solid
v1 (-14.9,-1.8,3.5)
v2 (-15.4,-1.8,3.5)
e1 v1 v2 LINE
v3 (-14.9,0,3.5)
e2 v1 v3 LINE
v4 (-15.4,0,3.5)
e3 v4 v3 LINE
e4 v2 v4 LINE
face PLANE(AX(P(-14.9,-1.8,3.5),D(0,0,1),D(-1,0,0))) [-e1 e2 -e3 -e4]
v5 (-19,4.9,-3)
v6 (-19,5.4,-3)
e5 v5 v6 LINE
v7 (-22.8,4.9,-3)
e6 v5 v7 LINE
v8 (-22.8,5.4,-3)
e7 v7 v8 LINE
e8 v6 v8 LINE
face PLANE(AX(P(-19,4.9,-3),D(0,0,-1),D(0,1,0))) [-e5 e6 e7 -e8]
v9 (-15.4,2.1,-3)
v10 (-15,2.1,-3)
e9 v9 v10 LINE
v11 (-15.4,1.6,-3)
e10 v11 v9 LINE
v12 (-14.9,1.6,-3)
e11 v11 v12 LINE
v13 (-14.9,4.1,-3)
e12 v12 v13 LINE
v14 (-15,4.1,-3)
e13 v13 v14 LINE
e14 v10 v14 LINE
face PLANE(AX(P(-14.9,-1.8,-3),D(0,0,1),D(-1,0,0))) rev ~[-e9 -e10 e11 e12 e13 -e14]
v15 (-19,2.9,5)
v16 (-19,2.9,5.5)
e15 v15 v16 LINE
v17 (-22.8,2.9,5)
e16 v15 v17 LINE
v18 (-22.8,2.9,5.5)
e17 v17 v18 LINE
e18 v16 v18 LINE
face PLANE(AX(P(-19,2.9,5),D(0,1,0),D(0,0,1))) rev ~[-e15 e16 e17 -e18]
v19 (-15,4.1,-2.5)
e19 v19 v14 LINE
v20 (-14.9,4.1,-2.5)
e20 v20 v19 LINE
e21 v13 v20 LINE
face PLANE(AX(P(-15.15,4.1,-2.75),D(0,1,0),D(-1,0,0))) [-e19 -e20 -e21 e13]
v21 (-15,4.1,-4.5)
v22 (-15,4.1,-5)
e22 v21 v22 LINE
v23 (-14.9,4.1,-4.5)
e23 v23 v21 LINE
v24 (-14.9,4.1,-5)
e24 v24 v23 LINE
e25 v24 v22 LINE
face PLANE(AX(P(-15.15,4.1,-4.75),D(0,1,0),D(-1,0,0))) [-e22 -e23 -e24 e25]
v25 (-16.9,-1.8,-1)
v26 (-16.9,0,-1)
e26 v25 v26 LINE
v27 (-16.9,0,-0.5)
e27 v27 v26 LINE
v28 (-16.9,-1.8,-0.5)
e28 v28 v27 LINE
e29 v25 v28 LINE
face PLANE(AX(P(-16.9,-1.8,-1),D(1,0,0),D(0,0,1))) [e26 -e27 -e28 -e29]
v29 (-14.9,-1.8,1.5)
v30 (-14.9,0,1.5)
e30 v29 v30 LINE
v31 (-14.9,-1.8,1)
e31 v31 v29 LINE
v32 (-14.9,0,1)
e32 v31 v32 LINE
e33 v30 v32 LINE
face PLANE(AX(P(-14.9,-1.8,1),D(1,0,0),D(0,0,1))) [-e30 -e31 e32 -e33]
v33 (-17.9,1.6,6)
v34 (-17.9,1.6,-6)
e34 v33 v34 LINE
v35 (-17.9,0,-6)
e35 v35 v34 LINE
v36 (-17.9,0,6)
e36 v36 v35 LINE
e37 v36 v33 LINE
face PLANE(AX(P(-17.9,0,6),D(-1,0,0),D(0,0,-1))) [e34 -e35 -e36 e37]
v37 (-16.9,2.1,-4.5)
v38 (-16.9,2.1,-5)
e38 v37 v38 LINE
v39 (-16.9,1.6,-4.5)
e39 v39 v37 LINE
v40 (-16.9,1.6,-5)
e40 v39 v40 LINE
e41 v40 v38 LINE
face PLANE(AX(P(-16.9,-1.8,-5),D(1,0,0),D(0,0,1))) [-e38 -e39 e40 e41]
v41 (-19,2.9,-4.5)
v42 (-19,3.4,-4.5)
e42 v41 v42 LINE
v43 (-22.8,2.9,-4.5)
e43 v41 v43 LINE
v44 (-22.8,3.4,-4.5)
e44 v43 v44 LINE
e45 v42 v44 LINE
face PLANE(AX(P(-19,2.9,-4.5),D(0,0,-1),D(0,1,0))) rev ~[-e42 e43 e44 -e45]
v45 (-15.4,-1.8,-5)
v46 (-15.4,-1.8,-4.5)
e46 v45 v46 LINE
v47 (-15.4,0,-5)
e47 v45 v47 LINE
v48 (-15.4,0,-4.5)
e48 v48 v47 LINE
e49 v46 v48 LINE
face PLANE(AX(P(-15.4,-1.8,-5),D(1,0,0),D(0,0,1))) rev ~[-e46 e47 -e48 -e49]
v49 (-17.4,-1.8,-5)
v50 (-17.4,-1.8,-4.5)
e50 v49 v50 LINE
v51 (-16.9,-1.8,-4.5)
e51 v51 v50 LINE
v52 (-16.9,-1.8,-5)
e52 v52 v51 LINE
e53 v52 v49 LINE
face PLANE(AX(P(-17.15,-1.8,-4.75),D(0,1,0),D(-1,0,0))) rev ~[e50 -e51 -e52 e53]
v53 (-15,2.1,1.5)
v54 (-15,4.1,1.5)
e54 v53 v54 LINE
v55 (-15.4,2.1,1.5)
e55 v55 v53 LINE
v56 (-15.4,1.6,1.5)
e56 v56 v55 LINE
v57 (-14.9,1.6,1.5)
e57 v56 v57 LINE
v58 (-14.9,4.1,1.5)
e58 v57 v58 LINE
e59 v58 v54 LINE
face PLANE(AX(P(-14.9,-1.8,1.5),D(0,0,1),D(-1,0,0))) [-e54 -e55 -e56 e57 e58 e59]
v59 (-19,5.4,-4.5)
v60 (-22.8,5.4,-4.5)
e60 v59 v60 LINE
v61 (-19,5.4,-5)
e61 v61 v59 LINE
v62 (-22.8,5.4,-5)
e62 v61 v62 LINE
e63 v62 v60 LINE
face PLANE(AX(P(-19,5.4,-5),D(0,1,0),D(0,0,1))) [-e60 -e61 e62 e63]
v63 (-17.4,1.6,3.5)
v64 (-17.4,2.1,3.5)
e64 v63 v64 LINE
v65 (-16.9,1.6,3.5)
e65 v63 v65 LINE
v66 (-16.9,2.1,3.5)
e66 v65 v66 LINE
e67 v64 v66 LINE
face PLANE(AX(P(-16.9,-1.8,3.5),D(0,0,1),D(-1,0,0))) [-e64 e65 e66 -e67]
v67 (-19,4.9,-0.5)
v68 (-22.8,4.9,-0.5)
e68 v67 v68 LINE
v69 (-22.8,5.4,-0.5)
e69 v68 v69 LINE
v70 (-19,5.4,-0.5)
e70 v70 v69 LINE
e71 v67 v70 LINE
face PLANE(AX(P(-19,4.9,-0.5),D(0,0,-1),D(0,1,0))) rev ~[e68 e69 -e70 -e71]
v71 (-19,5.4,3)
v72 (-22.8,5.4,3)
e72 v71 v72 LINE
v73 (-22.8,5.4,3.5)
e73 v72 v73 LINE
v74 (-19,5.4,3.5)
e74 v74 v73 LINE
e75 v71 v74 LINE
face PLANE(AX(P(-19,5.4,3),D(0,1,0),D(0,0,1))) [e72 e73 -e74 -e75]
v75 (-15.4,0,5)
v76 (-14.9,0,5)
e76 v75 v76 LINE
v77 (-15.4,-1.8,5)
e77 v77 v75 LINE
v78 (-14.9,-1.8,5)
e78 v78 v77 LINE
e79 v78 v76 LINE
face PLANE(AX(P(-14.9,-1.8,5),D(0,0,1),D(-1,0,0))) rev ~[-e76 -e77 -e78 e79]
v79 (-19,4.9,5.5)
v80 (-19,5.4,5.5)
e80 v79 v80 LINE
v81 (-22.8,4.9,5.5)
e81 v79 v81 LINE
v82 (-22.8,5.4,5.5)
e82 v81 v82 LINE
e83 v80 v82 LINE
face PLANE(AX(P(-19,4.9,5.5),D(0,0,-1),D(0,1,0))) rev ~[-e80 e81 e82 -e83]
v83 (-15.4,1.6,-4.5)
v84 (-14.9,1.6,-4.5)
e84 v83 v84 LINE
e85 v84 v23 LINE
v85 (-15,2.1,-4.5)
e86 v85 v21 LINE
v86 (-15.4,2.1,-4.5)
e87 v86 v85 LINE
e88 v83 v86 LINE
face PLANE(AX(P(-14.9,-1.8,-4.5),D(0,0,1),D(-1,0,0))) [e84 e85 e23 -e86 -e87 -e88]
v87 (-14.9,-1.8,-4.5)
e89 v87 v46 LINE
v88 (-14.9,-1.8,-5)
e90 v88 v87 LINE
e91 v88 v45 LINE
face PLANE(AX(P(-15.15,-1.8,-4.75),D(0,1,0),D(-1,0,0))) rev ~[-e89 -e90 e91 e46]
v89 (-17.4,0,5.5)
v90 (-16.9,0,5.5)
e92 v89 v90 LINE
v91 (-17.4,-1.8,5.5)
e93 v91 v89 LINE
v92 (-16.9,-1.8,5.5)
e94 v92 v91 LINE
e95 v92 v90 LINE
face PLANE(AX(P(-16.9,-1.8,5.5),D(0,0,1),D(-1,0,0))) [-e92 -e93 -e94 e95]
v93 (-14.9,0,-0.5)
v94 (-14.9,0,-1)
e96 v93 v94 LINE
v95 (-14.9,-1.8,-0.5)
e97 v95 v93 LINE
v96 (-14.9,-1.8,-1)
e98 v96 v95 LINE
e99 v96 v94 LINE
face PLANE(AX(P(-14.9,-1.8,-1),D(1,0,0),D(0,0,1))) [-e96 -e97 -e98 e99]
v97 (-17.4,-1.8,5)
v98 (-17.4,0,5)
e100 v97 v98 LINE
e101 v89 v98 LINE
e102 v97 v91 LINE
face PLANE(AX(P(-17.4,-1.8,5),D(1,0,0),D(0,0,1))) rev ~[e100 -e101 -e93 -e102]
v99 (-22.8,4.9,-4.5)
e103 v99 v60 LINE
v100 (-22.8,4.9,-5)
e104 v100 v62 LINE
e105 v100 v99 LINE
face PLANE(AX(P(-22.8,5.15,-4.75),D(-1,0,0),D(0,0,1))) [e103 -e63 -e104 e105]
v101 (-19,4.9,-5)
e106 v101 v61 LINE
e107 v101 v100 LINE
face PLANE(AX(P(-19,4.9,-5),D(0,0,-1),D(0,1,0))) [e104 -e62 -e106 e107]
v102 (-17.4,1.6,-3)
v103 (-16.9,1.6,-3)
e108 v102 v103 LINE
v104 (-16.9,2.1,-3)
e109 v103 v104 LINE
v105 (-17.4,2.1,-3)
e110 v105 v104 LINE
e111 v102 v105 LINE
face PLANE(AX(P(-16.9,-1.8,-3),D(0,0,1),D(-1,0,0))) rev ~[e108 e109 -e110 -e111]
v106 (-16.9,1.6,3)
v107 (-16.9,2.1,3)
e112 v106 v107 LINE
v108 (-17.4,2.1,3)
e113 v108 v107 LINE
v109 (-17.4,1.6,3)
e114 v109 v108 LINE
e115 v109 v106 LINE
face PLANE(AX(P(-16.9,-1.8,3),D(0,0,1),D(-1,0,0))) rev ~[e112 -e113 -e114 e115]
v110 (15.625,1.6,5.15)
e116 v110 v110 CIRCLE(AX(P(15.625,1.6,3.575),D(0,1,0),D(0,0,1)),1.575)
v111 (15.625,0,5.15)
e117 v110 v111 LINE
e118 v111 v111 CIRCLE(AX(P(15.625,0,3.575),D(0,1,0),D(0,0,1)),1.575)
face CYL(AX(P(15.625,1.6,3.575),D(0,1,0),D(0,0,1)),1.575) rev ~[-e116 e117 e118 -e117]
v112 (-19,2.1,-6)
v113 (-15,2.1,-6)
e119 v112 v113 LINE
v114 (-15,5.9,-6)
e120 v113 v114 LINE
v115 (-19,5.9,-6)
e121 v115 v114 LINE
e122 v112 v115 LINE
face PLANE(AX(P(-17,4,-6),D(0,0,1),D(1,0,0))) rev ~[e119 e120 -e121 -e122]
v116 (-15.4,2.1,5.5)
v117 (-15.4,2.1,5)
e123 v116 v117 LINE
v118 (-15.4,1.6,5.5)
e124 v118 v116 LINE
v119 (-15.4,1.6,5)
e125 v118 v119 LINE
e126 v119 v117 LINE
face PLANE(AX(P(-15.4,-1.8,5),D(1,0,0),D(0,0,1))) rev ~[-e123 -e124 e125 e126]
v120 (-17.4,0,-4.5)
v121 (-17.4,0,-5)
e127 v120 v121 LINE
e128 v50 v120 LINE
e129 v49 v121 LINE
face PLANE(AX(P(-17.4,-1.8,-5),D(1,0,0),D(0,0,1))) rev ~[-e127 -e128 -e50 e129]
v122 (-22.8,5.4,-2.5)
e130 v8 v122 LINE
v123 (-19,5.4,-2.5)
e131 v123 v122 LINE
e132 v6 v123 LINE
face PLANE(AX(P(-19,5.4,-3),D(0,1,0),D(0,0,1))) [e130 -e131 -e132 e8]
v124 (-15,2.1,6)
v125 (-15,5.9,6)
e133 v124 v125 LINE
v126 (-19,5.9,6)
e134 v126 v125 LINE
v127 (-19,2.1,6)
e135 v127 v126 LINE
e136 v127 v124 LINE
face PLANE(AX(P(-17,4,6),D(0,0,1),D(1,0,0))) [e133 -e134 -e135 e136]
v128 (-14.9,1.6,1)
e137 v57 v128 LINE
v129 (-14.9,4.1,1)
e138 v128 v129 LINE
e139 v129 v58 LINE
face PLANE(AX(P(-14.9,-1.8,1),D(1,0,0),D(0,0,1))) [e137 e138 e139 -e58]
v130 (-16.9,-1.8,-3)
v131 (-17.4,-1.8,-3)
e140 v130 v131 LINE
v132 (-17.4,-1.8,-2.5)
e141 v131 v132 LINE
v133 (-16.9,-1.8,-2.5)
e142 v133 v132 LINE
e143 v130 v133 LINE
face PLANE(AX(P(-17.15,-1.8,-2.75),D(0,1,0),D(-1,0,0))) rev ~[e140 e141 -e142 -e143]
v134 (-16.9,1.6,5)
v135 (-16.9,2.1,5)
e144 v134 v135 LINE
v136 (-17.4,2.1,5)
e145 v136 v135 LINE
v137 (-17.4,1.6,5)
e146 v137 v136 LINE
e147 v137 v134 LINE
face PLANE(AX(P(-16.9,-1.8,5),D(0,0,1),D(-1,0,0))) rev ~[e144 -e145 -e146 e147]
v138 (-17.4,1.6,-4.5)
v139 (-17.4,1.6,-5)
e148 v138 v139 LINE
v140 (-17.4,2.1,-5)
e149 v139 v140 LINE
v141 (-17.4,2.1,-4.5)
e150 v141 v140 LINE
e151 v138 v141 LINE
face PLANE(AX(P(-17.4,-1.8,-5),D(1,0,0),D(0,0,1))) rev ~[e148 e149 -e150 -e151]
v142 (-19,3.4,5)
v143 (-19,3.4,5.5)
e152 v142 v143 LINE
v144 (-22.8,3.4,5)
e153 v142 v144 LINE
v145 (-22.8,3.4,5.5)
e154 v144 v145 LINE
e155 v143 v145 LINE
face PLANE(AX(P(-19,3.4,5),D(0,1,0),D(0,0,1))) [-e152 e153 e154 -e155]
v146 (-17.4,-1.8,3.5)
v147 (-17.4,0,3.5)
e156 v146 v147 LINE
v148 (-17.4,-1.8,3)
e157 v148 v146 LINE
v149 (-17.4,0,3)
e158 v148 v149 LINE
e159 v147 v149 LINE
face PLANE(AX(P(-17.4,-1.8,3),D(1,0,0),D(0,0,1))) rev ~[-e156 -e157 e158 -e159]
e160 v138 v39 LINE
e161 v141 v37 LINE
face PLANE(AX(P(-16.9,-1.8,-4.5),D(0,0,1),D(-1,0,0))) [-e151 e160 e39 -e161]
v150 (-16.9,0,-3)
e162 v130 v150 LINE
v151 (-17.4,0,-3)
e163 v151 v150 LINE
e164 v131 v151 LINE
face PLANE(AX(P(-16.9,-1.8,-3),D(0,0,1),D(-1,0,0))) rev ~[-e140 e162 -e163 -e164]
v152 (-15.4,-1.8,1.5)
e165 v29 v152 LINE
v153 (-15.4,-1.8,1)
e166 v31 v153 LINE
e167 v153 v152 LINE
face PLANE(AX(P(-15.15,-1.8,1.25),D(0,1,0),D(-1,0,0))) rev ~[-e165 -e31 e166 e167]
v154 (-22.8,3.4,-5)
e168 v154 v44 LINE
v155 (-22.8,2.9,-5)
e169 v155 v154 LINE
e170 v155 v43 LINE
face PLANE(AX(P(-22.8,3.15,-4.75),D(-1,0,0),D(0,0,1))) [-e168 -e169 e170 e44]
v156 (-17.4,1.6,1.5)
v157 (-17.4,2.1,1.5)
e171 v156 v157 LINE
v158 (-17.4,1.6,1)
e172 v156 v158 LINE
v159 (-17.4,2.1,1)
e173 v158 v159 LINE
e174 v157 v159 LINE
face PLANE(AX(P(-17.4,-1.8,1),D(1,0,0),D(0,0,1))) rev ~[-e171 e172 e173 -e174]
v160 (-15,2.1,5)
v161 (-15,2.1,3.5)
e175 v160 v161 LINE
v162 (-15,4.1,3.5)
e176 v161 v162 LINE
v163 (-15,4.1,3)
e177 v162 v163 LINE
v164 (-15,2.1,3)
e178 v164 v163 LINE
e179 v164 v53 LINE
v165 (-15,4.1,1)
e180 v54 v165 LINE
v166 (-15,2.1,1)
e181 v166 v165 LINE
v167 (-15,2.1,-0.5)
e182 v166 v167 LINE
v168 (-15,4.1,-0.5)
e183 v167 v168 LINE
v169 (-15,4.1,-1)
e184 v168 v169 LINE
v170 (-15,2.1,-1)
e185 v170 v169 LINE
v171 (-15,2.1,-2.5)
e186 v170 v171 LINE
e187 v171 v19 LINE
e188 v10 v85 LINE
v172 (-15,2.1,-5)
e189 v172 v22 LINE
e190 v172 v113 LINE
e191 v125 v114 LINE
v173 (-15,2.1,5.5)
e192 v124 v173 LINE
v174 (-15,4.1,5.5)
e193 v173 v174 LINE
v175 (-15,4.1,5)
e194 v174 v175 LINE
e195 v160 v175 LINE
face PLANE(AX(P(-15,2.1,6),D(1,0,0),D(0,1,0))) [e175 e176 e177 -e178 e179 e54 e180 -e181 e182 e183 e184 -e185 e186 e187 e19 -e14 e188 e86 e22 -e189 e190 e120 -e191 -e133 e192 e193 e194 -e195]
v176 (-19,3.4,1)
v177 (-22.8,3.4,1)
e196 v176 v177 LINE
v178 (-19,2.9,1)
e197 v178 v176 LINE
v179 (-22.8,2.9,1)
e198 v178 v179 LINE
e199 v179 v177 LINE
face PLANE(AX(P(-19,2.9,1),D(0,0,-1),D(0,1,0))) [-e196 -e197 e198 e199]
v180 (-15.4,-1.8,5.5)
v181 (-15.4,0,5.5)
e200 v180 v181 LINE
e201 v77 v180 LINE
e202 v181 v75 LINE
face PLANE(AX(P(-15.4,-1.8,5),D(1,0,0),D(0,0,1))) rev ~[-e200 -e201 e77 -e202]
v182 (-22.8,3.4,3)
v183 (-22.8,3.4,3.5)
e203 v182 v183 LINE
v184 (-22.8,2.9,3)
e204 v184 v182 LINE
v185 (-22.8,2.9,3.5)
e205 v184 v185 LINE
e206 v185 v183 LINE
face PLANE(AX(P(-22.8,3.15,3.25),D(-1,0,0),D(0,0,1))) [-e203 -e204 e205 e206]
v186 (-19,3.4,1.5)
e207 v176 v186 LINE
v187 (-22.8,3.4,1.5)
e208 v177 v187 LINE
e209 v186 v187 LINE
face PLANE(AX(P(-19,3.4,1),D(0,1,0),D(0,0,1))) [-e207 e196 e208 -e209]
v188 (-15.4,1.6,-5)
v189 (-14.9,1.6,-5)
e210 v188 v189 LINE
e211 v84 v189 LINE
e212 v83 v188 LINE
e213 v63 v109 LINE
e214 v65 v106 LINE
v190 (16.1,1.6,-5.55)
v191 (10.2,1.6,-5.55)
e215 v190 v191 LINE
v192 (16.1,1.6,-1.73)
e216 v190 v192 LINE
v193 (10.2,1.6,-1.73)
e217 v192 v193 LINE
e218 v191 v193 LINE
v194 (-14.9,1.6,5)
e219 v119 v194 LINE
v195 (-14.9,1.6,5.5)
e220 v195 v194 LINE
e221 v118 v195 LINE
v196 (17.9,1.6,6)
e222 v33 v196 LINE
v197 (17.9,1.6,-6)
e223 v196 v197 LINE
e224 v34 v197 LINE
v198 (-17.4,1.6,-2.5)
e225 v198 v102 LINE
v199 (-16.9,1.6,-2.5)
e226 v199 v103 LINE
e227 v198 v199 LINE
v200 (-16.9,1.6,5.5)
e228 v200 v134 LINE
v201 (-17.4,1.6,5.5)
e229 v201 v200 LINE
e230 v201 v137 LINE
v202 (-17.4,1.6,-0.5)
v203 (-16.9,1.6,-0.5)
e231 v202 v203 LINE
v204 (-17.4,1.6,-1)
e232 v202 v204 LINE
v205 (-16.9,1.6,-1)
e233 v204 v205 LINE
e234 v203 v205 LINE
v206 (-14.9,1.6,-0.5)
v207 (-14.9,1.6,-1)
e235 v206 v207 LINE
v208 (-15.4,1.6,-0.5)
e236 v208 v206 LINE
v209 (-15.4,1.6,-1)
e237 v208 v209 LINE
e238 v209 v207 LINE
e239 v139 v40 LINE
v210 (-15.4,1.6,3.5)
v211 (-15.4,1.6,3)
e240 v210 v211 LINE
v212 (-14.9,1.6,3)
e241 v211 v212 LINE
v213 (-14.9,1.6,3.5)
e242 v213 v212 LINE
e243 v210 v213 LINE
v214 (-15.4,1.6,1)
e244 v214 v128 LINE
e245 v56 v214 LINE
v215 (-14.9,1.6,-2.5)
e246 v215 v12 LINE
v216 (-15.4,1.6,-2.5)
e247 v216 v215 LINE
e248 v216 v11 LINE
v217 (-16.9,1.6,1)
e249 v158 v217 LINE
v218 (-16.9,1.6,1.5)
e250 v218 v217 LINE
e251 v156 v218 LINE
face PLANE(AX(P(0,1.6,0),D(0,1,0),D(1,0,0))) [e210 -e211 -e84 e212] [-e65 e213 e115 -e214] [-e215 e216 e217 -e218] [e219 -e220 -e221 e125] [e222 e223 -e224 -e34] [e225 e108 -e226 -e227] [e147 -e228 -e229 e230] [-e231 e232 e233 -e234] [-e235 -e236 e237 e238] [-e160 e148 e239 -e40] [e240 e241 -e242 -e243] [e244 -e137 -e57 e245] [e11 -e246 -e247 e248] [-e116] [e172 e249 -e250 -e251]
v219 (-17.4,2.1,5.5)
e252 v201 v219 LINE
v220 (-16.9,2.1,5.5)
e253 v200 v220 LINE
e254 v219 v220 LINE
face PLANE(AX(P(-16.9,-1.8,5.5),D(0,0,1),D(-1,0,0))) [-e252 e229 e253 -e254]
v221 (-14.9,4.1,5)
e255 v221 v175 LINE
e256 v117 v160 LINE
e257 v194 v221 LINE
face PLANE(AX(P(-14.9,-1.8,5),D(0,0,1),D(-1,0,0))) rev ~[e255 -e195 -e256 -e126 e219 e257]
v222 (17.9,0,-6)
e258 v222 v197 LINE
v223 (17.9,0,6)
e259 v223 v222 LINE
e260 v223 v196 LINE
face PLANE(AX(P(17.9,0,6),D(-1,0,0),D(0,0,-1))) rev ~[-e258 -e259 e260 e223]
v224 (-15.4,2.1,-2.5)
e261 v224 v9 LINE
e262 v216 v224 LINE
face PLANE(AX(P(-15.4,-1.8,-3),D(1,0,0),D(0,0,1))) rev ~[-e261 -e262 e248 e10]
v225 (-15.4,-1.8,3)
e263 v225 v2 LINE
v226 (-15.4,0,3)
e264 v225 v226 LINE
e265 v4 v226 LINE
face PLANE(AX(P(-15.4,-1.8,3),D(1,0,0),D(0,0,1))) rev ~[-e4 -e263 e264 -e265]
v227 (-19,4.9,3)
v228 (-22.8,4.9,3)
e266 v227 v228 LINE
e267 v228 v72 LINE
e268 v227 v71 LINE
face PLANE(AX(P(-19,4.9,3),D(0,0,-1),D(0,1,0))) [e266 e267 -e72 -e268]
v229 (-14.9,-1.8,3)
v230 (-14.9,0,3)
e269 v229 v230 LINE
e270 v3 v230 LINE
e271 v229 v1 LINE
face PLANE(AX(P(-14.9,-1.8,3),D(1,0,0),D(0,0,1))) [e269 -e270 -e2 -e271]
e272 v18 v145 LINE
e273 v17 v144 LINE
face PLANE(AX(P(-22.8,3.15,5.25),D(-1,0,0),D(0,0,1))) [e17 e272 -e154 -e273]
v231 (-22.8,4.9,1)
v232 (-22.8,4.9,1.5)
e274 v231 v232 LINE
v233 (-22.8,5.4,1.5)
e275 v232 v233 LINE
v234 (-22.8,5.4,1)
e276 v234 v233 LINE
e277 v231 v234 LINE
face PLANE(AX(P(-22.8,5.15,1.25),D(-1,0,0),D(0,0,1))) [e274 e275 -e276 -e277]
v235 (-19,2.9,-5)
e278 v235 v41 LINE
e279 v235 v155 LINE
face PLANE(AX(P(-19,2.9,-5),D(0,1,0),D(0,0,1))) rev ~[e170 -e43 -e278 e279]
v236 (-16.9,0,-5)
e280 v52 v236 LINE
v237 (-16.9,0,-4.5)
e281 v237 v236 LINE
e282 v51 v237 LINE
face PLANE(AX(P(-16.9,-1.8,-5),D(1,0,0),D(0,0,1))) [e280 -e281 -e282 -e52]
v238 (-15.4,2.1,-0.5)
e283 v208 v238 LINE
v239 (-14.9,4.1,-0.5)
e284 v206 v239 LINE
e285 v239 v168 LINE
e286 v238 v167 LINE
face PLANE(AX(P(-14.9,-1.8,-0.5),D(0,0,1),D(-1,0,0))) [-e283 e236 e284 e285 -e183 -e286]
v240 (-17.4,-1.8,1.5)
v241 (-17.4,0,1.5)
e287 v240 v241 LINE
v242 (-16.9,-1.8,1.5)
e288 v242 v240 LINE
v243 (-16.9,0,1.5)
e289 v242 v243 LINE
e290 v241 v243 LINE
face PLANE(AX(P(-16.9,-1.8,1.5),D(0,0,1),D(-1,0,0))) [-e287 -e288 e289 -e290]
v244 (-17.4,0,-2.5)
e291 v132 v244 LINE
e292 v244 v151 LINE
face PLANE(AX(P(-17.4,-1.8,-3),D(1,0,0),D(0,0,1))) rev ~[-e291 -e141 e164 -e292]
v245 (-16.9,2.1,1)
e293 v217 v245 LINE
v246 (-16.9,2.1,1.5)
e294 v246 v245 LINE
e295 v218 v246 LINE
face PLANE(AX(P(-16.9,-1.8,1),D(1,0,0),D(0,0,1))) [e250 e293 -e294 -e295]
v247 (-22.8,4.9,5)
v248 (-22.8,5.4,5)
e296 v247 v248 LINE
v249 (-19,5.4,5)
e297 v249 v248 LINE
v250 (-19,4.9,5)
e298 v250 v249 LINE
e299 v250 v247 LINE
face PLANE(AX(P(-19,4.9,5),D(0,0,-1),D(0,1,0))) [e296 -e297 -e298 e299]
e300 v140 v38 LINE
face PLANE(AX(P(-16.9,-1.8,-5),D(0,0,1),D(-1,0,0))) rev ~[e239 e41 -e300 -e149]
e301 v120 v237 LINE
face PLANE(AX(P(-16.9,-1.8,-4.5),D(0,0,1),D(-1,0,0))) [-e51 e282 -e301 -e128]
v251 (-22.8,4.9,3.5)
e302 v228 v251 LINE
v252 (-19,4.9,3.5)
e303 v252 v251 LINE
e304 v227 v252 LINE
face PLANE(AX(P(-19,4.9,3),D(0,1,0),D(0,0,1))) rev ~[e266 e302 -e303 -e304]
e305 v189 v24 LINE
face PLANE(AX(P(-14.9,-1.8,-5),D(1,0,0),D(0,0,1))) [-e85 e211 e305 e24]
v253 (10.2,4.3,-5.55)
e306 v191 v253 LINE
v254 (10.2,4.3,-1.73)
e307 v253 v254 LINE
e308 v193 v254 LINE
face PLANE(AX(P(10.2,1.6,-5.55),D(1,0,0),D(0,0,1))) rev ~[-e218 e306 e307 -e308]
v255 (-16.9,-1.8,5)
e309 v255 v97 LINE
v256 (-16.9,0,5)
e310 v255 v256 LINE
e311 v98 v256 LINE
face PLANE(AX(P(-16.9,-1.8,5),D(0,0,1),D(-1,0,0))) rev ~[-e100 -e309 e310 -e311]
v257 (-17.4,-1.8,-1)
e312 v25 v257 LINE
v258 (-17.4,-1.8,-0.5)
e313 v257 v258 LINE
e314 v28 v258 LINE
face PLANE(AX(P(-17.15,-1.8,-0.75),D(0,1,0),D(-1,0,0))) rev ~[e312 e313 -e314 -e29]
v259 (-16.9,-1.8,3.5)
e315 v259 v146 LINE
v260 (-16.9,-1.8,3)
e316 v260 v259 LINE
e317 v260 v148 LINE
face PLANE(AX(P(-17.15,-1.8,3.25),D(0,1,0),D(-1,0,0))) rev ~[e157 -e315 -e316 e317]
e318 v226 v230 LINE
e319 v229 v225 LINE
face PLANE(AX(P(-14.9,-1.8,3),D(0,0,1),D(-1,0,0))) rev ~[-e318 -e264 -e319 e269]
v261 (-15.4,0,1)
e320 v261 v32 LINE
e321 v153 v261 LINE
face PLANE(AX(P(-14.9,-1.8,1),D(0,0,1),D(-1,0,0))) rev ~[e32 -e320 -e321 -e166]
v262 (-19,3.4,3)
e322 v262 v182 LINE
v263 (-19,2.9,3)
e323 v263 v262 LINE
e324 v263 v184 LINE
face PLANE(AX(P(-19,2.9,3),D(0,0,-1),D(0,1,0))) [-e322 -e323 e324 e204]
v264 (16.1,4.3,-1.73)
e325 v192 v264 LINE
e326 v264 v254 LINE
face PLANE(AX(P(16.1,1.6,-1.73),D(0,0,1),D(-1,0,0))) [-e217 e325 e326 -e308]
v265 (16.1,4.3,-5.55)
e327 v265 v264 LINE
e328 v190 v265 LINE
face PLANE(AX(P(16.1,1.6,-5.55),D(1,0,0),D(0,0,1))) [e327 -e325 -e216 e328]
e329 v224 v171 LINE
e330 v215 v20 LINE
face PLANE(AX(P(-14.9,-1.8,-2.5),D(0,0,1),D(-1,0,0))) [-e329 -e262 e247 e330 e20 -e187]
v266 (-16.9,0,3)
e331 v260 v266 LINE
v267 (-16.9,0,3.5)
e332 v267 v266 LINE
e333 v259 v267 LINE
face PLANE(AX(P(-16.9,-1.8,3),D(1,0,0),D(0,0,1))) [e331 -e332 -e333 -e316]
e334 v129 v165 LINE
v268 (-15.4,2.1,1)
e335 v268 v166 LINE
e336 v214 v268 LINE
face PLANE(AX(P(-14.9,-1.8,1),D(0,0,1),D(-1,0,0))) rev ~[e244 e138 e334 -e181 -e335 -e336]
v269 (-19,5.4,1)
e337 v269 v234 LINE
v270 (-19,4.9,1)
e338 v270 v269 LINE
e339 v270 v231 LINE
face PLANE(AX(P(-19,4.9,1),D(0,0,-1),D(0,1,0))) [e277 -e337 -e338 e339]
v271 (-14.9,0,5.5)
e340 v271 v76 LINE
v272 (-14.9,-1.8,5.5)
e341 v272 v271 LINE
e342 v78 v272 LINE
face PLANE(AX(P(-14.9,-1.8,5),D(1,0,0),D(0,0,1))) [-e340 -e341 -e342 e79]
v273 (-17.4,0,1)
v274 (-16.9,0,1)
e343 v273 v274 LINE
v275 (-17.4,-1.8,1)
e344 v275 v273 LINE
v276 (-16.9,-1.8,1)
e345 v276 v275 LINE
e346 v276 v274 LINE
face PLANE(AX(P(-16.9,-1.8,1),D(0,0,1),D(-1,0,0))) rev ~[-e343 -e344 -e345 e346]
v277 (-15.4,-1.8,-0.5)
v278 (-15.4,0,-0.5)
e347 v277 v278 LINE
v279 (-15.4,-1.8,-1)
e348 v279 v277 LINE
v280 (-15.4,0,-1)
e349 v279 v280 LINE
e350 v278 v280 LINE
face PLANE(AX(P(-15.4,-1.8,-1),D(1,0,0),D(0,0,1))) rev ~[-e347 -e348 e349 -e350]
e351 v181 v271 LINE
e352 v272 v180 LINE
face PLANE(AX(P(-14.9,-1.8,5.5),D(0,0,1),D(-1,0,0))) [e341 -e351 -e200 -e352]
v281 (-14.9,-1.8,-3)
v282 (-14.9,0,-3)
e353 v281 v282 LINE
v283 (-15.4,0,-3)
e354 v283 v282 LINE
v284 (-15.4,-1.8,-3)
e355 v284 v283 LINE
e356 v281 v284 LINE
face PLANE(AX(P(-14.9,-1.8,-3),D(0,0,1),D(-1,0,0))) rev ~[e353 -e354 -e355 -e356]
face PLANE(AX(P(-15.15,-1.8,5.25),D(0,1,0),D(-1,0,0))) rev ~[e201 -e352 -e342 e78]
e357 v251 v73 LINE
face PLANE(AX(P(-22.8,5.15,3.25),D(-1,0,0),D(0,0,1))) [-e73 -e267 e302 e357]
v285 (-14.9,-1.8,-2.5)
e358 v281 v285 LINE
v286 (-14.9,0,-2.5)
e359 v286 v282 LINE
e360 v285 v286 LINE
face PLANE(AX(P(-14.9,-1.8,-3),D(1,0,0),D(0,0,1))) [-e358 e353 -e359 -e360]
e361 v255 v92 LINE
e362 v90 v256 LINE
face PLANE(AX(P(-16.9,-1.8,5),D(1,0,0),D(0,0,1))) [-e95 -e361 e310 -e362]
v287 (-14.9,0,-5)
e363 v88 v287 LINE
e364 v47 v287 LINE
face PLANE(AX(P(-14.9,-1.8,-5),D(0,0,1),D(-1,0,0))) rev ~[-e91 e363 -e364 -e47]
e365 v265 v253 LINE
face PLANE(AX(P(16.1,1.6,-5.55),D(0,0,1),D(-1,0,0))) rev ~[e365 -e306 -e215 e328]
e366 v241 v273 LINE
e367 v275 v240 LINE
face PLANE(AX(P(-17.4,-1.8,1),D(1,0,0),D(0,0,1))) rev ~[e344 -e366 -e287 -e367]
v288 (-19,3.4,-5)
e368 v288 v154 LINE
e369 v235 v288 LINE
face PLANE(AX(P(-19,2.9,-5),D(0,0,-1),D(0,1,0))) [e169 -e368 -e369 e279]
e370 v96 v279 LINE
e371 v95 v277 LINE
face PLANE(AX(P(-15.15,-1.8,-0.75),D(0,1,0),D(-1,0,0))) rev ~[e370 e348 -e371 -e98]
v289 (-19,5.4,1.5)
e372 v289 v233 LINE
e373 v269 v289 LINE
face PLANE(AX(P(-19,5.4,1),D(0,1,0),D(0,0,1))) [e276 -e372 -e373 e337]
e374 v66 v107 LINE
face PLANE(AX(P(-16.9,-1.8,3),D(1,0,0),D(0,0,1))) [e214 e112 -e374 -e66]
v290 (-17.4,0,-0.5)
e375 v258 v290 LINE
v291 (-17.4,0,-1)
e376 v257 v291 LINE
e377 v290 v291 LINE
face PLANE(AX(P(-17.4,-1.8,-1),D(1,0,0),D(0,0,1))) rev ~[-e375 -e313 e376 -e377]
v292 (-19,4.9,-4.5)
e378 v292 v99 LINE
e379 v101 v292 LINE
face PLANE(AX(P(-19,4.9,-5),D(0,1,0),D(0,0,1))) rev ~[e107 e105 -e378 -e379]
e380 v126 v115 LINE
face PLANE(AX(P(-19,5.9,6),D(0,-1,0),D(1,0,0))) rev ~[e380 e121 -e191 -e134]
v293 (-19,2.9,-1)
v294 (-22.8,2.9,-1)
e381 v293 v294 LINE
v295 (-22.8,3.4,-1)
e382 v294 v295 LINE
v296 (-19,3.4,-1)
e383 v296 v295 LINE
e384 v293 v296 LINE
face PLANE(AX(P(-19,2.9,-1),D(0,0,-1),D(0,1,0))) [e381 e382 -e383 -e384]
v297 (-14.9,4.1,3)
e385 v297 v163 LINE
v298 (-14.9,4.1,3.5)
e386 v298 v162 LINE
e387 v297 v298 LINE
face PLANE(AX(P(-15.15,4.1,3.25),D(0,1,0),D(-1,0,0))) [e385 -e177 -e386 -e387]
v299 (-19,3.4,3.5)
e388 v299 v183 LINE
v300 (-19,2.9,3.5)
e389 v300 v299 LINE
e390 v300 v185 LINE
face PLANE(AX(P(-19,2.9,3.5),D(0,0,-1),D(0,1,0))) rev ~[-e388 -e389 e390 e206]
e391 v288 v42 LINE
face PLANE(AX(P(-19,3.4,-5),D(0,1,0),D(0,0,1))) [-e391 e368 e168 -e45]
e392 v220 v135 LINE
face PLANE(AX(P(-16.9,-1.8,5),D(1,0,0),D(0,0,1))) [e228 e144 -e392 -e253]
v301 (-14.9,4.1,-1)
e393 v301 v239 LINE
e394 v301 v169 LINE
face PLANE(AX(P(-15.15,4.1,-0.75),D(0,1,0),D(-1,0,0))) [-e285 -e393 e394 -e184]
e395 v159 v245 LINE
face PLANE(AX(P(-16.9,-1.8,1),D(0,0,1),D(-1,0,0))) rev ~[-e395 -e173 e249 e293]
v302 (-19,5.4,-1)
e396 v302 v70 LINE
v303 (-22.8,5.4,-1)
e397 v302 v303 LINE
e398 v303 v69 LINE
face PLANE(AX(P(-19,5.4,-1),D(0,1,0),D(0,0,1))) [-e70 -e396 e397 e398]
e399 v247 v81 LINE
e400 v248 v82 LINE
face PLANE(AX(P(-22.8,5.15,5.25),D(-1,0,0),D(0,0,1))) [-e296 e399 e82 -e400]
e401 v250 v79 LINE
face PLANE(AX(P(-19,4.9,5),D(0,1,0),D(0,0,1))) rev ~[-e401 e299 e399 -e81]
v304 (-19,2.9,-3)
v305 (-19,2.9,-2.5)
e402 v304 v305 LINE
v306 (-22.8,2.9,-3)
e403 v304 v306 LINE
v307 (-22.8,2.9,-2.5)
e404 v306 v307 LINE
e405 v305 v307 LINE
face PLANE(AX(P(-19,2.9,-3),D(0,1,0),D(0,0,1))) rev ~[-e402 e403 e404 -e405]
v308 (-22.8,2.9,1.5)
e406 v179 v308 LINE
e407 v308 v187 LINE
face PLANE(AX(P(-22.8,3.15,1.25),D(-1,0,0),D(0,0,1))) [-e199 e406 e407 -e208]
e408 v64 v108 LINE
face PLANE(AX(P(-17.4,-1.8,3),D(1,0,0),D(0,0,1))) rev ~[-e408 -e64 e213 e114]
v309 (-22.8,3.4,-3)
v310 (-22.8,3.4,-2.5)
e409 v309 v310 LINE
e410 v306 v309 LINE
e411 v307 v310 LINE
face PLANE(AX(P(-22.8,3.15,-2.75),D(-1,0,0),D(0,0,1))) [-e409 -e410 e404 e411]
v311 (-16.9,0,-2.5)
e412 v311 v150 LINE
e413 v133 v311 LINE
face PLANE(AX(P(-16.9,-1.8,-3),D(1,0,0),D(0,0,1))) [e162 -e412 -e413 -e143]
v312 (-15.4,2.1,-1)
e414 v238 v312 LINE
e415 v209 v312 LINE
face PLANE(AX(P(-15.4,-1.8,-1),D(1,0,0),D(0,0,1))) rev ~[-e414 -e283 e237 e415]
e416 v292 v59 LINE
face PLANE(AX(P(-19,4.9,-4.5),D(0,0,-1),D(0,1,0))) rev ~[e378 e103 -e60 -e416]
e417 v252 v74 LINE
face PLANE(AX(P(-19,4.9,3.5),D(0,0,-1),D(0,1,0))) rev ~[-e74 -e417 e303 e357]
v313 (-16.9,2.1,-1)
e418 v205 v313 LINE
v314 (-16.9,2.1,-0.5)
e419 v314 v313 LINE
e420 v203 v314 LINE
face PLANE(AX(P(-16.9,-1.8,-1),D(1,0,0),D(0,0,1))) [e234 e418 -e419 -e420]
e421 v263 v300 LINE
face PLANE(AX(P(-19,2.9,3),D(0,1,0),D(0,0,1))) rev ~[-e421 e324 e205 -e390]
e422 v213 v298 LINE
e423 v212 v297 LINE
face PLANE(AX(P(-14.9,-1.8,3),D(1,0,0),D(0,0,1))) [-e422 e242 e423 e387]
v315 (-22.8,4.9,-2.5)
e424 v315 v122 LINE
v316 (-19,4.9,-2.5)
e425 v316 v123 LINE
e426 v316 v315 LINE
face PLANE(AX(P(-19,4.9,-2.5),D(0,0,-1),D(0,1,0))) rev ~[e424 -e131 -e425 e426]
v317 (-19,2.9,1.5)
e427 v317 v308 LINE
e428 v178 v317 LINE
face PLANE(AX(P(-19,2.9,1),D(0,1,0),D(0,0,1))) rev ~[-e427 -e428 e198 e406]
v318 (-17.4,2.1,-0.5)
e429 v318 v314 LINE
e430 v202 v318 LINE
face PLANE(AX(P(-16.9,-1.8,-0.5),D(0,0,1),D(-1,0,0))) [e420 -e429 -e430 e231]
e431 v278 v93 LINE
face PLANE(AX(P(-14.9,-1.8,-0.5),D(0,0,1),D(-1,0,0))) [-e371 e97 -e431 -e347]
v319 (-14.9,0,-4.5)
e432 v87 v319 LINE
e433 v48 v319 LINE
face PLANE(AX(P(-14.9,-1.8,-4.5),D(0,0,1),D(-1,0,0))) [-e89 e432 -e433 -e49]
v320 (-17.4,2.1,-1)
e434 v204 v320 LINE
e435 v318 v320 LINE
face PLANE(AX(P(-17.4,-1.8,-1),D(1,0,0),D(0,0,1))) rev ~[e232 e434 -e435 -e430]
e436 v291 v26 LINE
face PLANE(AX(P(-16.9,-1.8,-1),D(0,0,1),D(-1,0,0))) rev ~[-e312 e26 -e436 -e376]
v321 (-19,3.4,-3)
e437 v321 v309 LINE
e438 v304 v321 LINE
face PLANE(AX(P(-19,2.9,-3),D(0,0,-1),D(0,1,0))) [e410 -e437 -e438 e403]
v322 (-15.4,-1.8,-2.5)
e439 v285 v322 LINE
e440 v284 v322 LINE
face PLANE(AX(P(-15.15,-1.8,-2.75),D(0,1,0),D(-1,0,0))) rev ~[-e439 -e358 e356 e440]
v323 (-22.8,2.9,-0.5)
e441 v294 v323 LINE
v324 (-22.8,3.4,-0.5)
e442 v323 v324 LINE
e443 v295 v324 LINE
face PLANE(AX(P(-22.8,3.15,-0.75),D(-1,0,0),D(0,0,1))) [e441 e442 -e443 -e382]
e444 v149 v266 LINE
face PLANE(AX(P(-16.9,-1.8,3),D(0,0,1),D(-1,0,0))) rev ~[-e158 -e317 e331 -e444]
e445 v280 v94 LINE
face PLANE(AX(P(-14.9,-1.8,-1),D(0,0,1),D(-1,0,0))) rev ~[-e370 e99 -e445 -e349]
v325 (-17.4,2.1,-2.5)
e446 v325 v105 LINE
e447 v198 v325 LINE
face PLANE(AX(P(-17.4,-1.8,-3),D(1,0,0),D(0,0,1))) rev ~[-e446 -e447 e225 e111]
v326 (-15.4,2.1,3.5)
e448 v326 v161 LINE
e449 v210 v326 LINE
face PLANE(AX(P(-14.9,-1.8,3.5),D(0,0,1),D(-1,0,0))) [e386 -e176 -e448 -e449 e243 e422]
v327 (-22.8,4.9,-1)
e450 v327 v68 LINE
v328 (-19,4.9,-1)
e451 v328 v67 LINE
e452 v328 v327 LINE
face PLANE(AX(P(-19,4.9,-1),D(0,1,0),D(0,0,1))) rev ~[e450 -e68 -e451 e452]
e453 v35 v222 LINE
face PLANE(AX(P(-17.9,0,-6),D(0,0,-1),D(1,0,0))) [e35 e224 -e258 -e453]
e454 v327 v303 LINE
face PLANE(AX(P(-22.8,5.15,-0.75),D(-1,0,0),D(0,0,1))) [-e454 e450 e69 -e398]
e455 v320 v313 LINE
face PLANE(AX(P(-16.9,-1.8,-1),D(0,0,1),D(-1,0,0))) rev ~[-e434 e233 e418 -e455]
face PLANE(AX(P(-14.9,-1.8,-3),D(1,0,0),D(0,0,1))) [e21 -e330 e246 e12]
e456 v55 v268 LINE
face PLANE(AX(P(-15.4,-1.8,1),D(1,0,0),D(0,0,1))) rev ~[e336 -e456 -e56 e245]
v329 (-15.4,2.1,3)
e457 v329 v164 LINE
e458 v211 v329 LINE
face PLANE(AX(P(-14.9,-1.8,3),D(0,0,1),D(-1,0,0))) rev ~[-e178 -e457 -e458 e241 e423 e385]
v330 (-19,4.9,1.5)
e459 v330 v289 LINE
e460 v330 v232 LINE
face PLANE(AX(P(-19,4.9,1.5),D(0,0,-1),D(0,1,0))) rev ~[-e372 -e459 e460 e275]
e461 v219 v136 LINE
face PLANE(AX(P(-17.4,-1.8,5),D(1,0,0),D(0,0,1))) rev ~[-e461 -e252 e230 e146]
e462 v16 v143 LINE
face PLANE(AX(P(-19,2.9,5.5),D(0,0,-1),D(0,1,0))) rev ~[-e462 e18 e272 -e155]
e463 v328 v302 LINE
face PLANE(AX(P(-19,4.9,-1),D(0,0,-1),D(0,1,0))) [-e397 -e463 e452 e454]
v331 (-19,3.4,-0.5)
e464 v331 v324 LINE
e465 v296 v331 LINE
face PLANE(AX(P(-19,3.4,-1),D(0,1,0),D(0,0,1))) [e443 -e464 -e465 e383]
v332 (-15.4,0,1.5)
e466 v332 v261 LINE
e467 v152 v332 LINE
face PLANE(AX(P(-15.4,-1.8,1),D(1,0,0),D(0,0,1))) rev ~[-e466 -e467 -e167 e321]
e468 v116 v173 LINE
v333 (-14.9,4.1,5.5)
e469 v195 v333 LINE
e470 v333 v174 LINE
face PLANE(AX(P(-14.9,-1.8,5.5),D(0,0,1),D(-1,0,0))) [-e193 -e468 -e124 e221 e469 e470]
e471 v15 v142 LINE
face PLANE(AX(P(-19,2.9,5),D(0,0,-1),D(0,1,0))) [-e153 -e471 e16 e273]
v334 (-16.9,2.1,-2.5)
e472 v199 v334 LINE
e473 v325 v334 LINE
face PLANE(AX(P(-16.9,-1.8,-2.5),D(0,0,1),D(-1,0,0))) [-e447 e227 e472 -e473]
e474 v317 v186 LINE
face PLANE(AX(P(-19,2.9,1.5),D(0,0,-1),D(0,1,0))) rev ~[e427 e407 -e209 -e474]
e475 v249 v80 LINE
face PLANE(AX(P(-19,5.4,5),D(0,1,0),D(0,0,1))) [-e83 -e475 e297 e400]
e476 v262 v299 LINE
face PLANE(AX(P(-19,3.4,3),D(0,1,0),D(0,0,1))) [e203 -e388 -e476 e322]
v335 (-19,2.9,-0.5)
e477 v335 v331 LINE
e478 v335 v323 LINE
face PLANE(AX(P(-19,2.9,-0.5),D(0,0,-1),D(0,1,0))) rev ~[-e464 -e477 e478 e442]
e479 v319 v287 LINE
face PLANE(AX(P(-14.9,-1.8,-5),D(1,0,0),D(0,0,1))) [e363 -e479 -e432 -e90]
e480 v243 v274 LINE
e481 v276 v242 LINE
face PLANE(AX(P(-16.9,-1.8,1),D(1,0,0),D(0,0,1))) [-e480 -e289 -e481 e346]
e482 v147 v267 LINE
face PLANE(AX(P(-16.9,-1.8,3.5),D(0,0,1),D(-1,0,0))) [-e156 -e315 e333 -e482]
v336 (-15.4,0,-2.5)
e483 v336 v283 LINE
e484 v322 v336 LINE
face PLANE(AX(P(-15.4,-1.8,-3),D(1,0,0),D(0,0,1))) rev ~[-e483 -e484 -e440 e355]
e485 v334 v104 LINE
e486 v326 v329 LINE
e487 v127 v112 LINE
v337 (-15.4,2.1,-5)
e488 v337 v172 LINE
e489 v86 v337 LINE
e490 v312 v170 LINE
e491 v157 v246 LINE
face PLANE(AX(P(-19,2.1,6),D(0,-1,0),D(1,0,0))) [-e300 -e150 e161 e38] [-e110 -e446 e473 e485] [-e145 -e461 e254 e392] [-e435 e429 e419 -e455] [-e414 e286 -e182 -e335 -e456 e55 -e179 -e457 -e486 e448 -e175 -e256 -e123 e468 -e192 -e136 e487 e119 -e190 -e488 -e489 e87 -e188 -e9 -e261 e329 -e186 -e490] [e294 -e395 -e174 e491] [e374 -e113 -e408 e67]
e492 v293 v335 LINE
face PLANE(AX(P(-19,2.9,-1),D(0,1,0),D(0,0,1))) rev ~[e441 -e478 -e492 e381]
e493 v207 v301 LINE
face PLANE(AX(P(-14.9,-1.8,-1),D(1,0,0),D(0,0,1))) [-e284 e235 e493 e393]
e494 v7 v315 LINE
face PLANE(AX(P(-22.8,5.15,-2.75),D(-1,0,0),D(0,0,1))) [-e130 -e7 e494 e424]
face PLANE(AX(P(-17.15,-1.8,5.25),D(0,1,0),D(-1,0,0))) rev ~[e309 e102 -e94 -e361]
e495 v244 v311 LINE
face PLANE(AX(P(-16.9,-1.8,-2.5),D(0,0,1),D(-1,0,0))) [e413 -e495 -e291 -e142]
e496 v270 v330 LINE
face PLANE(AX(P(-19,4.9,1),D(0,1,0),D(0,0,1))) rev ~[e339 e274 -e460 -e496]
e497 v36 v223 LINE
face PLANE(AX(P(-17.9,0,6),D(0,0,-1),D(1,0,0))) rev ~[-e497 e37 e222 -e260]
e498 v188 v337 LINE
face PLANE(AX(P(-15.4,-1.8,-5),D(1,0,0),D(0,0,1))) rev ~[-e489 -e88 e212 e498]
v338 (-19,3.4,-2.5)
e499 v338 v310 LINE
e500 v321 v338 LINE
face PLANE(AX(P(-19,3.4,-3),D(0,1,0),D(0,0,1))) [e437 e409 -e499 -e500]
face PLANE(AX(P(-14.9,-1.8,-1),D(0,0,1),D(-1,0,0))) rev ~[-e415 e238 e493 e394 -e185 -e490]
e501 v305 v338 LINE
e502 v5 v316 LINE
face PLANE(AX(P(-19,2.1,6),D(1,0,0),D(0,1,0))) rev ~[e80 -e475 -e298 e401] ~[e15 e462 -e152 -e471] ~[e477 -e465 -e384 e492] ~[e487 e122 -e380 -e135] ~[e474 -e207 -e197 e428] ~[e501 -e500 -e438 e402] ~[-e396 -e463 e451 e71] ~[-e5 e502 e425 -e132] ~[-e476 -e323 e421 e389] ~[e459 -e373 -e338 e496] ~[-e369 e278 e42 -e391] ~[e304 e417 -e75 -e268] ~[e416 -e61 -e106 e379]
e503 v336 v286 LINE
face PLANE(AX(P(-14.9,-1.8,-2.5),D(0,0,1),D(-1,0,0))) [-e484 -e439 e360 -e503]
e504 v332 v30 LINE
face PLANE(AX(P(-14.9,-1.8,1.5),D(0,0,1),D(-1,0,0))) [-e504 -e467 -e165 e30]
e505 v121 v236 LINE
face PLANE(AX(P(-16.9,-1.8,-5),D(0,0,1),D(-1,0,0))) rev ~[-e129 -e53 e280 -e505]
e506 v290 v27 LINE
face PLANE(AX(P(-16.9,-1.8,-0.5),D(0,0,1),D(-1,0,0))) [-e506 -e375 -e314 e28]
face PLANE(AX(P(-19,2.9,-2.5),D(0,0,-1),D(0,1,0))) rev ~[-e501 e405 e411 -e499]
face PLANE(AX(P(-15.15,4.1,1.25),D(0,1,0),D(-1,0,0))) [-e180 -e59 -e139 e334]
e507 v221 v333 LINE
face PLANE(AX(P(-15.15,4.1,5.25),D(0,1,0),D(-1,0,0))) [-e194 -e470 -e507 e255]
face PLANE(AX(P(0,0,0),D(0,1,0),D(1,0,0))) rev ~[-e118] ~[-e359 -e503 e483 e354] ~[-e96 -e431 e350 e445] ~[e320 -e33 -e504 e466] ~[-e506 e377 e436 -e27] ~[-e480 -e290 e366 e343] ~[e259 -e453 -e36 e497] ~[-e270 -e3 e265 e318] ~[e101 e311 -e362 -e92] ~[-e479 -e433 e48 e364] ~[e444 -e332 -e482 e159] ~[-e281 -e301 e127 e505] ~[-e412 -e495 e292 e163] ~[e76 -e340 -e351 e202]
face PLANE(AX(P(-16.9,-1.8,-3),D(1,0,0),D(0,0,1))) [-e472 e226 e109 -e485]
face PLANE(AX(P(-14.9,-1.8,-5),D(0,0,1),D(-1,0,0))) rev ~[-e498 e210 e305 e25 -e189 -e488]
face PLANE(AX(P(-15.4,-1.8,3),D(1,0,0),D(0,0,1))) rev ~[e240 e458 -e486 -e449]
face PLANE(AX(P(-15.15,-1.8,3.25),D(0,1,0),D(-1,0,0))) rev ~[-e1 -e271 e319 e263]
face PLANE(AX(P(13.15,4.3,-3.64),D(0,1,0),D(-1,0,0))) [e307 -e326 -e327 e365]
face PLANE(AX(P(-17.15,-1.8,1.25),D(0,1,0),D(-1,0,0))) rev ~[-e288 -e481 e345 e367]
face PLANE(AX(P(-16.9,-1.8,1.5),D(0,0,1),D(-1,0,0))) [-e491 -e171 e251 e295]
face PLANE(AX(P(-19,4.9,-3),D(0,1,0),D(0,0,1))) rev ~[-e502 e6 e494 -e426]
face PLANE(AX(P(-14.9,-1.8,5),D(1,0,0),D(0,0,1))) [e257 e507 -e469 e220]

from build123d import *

# Parameters (mm, degrees)
SKETCH1_W                = 35.8
SKETCH1_H                = 12
BOARD_DEPTH              = 1.6
SKETCH2_R                = 1.575
HOLE_DEPTH               = 2.6
SKETCH3_W                = 5.9
SKETCH3_H                = 3.82
SETUP_SWITCH_DEPTH       = 2.7
SURFACE_START            = -3.4
SKETCH4_W                = 0.5
SKETCH4_H                = 0.5
SURFACE_CONNECTORS_DEPTH = 5.9
LPATTERN1_COUNT          = 6
LPATTERN1_PITCH          = 2
LPATTERN1_COUNT_DIR2     = 2
LPATTERN1_PITCH_DIR2     = 2
SKETCH5_W                = 4
SKETCH5_H                = 3.8
CONNECTOR_BODY_DEPTH     = 12
SKETCH6_W                = 0.5
SKETCH6_H                = 0.5
CONNECTOR_PIN_DEPTH      = 3.8
LPATTERN2_COUNT          = 6
LPATTERN2_PITCH          = 2
LPATTERN2_COUNT_DIR2     = 2
LPATTERN2_PITCH_DIR2     = 2


with BuildPart() as part:
    # Sketch1 → Board (new body)
    with BuildSketch(Plane(origin=(0, 0, 0), x_dir=(1, 0, 0), z_dir=(0, 1, 0))):
        Rectangle(SKETCH1_W, SKETCH1_H)
    extrude(amount=BOARD_DEPTH)

    # Sketch2 → Hole (cut, through all)
    with BuildSketch(Plane(origin=(0, 1.6, 0), x_dir=(-1, 0, 0), z_dir=(0, 1, 0))):
        with Locations(Location((-15.625, 3.575, 0), (0, 0, 90))):  # turned: the seam where the file's is
            Circle(SKETCH2_R)
    extrude(amount=-HOLE_DEPTH, mode=Mode.SUBTRACT)

    # Sketch3 → Setup Switch (add)
    with BuildSketch(Plane(origin=(0, 1.6, 0), x_dir=(-1, 0, 0), z_dir=(0, 1, 0))):
        with Locations((-13.15, -3.64)):
            Rectangle(SKETCH3_W, SKETCH3_H)
    extrude(amount=SETUP_SWITCH_DEPTH)

    # Sketch4 → Surface Connectors (add)
    with BuildSketch(Plane(origin=(0, 1.6, 0), x_dir=(-1, 0, 0), z_dir=(0, 1, 0)).offset(SURFACE_START)):
        with Locations((17.15, 5.25)):
            Rectangle(SKETCH4_W, SKETCH4_H)
    surface_connectors = extrude(amount=SURFACE_CONNECTORS_DEPTH)

    # LPattern1: Surface Connectors 6 × 2
    with Locations(*[(j * LPATTERN1_PITCH_DIR2, 0, -i * LPATTERN1_PITCH) for i in range(LPATTERN1_COUNT) for j in range(LPATTERN1_COUNT_DIR2) if (i, j) != (0, 0)]):
        add(surface_connectors)

    # Sketch5 → Connector Body (add)
    with BuildSketch(Plane.XY.offset(6)):
        with Locations((-17, 4)):
            Rectangle(SKETCH5_W, SKETCH5_H)
    extrude(amount=-CONNECTOR_BODY_DEPTH)

    # Sketch6 → Connector Pin (add)
    with BuildSketch(Plane.ZY.offset(19)):
        with Locations((5.25, 5.15)):
            Rectangle(SKETCH6_W, SKETCH6_H)
    connector_pin = extrude(amount=CONNECTOR_PIN_DEPTH)

    # LPattern2: Connector Pin 6 × 2
    with Locations(*[(0, -j * LPATTERN2_PITCH_DIR2, -i * LPATTERN2_PITCH) for i in range(LPATTERN2_COUNT) for j in range(LPATTERN2_COUNT_DIR2) if (i, j) != (0, 0)]):
        add(connector_pin)


solid = part.part
